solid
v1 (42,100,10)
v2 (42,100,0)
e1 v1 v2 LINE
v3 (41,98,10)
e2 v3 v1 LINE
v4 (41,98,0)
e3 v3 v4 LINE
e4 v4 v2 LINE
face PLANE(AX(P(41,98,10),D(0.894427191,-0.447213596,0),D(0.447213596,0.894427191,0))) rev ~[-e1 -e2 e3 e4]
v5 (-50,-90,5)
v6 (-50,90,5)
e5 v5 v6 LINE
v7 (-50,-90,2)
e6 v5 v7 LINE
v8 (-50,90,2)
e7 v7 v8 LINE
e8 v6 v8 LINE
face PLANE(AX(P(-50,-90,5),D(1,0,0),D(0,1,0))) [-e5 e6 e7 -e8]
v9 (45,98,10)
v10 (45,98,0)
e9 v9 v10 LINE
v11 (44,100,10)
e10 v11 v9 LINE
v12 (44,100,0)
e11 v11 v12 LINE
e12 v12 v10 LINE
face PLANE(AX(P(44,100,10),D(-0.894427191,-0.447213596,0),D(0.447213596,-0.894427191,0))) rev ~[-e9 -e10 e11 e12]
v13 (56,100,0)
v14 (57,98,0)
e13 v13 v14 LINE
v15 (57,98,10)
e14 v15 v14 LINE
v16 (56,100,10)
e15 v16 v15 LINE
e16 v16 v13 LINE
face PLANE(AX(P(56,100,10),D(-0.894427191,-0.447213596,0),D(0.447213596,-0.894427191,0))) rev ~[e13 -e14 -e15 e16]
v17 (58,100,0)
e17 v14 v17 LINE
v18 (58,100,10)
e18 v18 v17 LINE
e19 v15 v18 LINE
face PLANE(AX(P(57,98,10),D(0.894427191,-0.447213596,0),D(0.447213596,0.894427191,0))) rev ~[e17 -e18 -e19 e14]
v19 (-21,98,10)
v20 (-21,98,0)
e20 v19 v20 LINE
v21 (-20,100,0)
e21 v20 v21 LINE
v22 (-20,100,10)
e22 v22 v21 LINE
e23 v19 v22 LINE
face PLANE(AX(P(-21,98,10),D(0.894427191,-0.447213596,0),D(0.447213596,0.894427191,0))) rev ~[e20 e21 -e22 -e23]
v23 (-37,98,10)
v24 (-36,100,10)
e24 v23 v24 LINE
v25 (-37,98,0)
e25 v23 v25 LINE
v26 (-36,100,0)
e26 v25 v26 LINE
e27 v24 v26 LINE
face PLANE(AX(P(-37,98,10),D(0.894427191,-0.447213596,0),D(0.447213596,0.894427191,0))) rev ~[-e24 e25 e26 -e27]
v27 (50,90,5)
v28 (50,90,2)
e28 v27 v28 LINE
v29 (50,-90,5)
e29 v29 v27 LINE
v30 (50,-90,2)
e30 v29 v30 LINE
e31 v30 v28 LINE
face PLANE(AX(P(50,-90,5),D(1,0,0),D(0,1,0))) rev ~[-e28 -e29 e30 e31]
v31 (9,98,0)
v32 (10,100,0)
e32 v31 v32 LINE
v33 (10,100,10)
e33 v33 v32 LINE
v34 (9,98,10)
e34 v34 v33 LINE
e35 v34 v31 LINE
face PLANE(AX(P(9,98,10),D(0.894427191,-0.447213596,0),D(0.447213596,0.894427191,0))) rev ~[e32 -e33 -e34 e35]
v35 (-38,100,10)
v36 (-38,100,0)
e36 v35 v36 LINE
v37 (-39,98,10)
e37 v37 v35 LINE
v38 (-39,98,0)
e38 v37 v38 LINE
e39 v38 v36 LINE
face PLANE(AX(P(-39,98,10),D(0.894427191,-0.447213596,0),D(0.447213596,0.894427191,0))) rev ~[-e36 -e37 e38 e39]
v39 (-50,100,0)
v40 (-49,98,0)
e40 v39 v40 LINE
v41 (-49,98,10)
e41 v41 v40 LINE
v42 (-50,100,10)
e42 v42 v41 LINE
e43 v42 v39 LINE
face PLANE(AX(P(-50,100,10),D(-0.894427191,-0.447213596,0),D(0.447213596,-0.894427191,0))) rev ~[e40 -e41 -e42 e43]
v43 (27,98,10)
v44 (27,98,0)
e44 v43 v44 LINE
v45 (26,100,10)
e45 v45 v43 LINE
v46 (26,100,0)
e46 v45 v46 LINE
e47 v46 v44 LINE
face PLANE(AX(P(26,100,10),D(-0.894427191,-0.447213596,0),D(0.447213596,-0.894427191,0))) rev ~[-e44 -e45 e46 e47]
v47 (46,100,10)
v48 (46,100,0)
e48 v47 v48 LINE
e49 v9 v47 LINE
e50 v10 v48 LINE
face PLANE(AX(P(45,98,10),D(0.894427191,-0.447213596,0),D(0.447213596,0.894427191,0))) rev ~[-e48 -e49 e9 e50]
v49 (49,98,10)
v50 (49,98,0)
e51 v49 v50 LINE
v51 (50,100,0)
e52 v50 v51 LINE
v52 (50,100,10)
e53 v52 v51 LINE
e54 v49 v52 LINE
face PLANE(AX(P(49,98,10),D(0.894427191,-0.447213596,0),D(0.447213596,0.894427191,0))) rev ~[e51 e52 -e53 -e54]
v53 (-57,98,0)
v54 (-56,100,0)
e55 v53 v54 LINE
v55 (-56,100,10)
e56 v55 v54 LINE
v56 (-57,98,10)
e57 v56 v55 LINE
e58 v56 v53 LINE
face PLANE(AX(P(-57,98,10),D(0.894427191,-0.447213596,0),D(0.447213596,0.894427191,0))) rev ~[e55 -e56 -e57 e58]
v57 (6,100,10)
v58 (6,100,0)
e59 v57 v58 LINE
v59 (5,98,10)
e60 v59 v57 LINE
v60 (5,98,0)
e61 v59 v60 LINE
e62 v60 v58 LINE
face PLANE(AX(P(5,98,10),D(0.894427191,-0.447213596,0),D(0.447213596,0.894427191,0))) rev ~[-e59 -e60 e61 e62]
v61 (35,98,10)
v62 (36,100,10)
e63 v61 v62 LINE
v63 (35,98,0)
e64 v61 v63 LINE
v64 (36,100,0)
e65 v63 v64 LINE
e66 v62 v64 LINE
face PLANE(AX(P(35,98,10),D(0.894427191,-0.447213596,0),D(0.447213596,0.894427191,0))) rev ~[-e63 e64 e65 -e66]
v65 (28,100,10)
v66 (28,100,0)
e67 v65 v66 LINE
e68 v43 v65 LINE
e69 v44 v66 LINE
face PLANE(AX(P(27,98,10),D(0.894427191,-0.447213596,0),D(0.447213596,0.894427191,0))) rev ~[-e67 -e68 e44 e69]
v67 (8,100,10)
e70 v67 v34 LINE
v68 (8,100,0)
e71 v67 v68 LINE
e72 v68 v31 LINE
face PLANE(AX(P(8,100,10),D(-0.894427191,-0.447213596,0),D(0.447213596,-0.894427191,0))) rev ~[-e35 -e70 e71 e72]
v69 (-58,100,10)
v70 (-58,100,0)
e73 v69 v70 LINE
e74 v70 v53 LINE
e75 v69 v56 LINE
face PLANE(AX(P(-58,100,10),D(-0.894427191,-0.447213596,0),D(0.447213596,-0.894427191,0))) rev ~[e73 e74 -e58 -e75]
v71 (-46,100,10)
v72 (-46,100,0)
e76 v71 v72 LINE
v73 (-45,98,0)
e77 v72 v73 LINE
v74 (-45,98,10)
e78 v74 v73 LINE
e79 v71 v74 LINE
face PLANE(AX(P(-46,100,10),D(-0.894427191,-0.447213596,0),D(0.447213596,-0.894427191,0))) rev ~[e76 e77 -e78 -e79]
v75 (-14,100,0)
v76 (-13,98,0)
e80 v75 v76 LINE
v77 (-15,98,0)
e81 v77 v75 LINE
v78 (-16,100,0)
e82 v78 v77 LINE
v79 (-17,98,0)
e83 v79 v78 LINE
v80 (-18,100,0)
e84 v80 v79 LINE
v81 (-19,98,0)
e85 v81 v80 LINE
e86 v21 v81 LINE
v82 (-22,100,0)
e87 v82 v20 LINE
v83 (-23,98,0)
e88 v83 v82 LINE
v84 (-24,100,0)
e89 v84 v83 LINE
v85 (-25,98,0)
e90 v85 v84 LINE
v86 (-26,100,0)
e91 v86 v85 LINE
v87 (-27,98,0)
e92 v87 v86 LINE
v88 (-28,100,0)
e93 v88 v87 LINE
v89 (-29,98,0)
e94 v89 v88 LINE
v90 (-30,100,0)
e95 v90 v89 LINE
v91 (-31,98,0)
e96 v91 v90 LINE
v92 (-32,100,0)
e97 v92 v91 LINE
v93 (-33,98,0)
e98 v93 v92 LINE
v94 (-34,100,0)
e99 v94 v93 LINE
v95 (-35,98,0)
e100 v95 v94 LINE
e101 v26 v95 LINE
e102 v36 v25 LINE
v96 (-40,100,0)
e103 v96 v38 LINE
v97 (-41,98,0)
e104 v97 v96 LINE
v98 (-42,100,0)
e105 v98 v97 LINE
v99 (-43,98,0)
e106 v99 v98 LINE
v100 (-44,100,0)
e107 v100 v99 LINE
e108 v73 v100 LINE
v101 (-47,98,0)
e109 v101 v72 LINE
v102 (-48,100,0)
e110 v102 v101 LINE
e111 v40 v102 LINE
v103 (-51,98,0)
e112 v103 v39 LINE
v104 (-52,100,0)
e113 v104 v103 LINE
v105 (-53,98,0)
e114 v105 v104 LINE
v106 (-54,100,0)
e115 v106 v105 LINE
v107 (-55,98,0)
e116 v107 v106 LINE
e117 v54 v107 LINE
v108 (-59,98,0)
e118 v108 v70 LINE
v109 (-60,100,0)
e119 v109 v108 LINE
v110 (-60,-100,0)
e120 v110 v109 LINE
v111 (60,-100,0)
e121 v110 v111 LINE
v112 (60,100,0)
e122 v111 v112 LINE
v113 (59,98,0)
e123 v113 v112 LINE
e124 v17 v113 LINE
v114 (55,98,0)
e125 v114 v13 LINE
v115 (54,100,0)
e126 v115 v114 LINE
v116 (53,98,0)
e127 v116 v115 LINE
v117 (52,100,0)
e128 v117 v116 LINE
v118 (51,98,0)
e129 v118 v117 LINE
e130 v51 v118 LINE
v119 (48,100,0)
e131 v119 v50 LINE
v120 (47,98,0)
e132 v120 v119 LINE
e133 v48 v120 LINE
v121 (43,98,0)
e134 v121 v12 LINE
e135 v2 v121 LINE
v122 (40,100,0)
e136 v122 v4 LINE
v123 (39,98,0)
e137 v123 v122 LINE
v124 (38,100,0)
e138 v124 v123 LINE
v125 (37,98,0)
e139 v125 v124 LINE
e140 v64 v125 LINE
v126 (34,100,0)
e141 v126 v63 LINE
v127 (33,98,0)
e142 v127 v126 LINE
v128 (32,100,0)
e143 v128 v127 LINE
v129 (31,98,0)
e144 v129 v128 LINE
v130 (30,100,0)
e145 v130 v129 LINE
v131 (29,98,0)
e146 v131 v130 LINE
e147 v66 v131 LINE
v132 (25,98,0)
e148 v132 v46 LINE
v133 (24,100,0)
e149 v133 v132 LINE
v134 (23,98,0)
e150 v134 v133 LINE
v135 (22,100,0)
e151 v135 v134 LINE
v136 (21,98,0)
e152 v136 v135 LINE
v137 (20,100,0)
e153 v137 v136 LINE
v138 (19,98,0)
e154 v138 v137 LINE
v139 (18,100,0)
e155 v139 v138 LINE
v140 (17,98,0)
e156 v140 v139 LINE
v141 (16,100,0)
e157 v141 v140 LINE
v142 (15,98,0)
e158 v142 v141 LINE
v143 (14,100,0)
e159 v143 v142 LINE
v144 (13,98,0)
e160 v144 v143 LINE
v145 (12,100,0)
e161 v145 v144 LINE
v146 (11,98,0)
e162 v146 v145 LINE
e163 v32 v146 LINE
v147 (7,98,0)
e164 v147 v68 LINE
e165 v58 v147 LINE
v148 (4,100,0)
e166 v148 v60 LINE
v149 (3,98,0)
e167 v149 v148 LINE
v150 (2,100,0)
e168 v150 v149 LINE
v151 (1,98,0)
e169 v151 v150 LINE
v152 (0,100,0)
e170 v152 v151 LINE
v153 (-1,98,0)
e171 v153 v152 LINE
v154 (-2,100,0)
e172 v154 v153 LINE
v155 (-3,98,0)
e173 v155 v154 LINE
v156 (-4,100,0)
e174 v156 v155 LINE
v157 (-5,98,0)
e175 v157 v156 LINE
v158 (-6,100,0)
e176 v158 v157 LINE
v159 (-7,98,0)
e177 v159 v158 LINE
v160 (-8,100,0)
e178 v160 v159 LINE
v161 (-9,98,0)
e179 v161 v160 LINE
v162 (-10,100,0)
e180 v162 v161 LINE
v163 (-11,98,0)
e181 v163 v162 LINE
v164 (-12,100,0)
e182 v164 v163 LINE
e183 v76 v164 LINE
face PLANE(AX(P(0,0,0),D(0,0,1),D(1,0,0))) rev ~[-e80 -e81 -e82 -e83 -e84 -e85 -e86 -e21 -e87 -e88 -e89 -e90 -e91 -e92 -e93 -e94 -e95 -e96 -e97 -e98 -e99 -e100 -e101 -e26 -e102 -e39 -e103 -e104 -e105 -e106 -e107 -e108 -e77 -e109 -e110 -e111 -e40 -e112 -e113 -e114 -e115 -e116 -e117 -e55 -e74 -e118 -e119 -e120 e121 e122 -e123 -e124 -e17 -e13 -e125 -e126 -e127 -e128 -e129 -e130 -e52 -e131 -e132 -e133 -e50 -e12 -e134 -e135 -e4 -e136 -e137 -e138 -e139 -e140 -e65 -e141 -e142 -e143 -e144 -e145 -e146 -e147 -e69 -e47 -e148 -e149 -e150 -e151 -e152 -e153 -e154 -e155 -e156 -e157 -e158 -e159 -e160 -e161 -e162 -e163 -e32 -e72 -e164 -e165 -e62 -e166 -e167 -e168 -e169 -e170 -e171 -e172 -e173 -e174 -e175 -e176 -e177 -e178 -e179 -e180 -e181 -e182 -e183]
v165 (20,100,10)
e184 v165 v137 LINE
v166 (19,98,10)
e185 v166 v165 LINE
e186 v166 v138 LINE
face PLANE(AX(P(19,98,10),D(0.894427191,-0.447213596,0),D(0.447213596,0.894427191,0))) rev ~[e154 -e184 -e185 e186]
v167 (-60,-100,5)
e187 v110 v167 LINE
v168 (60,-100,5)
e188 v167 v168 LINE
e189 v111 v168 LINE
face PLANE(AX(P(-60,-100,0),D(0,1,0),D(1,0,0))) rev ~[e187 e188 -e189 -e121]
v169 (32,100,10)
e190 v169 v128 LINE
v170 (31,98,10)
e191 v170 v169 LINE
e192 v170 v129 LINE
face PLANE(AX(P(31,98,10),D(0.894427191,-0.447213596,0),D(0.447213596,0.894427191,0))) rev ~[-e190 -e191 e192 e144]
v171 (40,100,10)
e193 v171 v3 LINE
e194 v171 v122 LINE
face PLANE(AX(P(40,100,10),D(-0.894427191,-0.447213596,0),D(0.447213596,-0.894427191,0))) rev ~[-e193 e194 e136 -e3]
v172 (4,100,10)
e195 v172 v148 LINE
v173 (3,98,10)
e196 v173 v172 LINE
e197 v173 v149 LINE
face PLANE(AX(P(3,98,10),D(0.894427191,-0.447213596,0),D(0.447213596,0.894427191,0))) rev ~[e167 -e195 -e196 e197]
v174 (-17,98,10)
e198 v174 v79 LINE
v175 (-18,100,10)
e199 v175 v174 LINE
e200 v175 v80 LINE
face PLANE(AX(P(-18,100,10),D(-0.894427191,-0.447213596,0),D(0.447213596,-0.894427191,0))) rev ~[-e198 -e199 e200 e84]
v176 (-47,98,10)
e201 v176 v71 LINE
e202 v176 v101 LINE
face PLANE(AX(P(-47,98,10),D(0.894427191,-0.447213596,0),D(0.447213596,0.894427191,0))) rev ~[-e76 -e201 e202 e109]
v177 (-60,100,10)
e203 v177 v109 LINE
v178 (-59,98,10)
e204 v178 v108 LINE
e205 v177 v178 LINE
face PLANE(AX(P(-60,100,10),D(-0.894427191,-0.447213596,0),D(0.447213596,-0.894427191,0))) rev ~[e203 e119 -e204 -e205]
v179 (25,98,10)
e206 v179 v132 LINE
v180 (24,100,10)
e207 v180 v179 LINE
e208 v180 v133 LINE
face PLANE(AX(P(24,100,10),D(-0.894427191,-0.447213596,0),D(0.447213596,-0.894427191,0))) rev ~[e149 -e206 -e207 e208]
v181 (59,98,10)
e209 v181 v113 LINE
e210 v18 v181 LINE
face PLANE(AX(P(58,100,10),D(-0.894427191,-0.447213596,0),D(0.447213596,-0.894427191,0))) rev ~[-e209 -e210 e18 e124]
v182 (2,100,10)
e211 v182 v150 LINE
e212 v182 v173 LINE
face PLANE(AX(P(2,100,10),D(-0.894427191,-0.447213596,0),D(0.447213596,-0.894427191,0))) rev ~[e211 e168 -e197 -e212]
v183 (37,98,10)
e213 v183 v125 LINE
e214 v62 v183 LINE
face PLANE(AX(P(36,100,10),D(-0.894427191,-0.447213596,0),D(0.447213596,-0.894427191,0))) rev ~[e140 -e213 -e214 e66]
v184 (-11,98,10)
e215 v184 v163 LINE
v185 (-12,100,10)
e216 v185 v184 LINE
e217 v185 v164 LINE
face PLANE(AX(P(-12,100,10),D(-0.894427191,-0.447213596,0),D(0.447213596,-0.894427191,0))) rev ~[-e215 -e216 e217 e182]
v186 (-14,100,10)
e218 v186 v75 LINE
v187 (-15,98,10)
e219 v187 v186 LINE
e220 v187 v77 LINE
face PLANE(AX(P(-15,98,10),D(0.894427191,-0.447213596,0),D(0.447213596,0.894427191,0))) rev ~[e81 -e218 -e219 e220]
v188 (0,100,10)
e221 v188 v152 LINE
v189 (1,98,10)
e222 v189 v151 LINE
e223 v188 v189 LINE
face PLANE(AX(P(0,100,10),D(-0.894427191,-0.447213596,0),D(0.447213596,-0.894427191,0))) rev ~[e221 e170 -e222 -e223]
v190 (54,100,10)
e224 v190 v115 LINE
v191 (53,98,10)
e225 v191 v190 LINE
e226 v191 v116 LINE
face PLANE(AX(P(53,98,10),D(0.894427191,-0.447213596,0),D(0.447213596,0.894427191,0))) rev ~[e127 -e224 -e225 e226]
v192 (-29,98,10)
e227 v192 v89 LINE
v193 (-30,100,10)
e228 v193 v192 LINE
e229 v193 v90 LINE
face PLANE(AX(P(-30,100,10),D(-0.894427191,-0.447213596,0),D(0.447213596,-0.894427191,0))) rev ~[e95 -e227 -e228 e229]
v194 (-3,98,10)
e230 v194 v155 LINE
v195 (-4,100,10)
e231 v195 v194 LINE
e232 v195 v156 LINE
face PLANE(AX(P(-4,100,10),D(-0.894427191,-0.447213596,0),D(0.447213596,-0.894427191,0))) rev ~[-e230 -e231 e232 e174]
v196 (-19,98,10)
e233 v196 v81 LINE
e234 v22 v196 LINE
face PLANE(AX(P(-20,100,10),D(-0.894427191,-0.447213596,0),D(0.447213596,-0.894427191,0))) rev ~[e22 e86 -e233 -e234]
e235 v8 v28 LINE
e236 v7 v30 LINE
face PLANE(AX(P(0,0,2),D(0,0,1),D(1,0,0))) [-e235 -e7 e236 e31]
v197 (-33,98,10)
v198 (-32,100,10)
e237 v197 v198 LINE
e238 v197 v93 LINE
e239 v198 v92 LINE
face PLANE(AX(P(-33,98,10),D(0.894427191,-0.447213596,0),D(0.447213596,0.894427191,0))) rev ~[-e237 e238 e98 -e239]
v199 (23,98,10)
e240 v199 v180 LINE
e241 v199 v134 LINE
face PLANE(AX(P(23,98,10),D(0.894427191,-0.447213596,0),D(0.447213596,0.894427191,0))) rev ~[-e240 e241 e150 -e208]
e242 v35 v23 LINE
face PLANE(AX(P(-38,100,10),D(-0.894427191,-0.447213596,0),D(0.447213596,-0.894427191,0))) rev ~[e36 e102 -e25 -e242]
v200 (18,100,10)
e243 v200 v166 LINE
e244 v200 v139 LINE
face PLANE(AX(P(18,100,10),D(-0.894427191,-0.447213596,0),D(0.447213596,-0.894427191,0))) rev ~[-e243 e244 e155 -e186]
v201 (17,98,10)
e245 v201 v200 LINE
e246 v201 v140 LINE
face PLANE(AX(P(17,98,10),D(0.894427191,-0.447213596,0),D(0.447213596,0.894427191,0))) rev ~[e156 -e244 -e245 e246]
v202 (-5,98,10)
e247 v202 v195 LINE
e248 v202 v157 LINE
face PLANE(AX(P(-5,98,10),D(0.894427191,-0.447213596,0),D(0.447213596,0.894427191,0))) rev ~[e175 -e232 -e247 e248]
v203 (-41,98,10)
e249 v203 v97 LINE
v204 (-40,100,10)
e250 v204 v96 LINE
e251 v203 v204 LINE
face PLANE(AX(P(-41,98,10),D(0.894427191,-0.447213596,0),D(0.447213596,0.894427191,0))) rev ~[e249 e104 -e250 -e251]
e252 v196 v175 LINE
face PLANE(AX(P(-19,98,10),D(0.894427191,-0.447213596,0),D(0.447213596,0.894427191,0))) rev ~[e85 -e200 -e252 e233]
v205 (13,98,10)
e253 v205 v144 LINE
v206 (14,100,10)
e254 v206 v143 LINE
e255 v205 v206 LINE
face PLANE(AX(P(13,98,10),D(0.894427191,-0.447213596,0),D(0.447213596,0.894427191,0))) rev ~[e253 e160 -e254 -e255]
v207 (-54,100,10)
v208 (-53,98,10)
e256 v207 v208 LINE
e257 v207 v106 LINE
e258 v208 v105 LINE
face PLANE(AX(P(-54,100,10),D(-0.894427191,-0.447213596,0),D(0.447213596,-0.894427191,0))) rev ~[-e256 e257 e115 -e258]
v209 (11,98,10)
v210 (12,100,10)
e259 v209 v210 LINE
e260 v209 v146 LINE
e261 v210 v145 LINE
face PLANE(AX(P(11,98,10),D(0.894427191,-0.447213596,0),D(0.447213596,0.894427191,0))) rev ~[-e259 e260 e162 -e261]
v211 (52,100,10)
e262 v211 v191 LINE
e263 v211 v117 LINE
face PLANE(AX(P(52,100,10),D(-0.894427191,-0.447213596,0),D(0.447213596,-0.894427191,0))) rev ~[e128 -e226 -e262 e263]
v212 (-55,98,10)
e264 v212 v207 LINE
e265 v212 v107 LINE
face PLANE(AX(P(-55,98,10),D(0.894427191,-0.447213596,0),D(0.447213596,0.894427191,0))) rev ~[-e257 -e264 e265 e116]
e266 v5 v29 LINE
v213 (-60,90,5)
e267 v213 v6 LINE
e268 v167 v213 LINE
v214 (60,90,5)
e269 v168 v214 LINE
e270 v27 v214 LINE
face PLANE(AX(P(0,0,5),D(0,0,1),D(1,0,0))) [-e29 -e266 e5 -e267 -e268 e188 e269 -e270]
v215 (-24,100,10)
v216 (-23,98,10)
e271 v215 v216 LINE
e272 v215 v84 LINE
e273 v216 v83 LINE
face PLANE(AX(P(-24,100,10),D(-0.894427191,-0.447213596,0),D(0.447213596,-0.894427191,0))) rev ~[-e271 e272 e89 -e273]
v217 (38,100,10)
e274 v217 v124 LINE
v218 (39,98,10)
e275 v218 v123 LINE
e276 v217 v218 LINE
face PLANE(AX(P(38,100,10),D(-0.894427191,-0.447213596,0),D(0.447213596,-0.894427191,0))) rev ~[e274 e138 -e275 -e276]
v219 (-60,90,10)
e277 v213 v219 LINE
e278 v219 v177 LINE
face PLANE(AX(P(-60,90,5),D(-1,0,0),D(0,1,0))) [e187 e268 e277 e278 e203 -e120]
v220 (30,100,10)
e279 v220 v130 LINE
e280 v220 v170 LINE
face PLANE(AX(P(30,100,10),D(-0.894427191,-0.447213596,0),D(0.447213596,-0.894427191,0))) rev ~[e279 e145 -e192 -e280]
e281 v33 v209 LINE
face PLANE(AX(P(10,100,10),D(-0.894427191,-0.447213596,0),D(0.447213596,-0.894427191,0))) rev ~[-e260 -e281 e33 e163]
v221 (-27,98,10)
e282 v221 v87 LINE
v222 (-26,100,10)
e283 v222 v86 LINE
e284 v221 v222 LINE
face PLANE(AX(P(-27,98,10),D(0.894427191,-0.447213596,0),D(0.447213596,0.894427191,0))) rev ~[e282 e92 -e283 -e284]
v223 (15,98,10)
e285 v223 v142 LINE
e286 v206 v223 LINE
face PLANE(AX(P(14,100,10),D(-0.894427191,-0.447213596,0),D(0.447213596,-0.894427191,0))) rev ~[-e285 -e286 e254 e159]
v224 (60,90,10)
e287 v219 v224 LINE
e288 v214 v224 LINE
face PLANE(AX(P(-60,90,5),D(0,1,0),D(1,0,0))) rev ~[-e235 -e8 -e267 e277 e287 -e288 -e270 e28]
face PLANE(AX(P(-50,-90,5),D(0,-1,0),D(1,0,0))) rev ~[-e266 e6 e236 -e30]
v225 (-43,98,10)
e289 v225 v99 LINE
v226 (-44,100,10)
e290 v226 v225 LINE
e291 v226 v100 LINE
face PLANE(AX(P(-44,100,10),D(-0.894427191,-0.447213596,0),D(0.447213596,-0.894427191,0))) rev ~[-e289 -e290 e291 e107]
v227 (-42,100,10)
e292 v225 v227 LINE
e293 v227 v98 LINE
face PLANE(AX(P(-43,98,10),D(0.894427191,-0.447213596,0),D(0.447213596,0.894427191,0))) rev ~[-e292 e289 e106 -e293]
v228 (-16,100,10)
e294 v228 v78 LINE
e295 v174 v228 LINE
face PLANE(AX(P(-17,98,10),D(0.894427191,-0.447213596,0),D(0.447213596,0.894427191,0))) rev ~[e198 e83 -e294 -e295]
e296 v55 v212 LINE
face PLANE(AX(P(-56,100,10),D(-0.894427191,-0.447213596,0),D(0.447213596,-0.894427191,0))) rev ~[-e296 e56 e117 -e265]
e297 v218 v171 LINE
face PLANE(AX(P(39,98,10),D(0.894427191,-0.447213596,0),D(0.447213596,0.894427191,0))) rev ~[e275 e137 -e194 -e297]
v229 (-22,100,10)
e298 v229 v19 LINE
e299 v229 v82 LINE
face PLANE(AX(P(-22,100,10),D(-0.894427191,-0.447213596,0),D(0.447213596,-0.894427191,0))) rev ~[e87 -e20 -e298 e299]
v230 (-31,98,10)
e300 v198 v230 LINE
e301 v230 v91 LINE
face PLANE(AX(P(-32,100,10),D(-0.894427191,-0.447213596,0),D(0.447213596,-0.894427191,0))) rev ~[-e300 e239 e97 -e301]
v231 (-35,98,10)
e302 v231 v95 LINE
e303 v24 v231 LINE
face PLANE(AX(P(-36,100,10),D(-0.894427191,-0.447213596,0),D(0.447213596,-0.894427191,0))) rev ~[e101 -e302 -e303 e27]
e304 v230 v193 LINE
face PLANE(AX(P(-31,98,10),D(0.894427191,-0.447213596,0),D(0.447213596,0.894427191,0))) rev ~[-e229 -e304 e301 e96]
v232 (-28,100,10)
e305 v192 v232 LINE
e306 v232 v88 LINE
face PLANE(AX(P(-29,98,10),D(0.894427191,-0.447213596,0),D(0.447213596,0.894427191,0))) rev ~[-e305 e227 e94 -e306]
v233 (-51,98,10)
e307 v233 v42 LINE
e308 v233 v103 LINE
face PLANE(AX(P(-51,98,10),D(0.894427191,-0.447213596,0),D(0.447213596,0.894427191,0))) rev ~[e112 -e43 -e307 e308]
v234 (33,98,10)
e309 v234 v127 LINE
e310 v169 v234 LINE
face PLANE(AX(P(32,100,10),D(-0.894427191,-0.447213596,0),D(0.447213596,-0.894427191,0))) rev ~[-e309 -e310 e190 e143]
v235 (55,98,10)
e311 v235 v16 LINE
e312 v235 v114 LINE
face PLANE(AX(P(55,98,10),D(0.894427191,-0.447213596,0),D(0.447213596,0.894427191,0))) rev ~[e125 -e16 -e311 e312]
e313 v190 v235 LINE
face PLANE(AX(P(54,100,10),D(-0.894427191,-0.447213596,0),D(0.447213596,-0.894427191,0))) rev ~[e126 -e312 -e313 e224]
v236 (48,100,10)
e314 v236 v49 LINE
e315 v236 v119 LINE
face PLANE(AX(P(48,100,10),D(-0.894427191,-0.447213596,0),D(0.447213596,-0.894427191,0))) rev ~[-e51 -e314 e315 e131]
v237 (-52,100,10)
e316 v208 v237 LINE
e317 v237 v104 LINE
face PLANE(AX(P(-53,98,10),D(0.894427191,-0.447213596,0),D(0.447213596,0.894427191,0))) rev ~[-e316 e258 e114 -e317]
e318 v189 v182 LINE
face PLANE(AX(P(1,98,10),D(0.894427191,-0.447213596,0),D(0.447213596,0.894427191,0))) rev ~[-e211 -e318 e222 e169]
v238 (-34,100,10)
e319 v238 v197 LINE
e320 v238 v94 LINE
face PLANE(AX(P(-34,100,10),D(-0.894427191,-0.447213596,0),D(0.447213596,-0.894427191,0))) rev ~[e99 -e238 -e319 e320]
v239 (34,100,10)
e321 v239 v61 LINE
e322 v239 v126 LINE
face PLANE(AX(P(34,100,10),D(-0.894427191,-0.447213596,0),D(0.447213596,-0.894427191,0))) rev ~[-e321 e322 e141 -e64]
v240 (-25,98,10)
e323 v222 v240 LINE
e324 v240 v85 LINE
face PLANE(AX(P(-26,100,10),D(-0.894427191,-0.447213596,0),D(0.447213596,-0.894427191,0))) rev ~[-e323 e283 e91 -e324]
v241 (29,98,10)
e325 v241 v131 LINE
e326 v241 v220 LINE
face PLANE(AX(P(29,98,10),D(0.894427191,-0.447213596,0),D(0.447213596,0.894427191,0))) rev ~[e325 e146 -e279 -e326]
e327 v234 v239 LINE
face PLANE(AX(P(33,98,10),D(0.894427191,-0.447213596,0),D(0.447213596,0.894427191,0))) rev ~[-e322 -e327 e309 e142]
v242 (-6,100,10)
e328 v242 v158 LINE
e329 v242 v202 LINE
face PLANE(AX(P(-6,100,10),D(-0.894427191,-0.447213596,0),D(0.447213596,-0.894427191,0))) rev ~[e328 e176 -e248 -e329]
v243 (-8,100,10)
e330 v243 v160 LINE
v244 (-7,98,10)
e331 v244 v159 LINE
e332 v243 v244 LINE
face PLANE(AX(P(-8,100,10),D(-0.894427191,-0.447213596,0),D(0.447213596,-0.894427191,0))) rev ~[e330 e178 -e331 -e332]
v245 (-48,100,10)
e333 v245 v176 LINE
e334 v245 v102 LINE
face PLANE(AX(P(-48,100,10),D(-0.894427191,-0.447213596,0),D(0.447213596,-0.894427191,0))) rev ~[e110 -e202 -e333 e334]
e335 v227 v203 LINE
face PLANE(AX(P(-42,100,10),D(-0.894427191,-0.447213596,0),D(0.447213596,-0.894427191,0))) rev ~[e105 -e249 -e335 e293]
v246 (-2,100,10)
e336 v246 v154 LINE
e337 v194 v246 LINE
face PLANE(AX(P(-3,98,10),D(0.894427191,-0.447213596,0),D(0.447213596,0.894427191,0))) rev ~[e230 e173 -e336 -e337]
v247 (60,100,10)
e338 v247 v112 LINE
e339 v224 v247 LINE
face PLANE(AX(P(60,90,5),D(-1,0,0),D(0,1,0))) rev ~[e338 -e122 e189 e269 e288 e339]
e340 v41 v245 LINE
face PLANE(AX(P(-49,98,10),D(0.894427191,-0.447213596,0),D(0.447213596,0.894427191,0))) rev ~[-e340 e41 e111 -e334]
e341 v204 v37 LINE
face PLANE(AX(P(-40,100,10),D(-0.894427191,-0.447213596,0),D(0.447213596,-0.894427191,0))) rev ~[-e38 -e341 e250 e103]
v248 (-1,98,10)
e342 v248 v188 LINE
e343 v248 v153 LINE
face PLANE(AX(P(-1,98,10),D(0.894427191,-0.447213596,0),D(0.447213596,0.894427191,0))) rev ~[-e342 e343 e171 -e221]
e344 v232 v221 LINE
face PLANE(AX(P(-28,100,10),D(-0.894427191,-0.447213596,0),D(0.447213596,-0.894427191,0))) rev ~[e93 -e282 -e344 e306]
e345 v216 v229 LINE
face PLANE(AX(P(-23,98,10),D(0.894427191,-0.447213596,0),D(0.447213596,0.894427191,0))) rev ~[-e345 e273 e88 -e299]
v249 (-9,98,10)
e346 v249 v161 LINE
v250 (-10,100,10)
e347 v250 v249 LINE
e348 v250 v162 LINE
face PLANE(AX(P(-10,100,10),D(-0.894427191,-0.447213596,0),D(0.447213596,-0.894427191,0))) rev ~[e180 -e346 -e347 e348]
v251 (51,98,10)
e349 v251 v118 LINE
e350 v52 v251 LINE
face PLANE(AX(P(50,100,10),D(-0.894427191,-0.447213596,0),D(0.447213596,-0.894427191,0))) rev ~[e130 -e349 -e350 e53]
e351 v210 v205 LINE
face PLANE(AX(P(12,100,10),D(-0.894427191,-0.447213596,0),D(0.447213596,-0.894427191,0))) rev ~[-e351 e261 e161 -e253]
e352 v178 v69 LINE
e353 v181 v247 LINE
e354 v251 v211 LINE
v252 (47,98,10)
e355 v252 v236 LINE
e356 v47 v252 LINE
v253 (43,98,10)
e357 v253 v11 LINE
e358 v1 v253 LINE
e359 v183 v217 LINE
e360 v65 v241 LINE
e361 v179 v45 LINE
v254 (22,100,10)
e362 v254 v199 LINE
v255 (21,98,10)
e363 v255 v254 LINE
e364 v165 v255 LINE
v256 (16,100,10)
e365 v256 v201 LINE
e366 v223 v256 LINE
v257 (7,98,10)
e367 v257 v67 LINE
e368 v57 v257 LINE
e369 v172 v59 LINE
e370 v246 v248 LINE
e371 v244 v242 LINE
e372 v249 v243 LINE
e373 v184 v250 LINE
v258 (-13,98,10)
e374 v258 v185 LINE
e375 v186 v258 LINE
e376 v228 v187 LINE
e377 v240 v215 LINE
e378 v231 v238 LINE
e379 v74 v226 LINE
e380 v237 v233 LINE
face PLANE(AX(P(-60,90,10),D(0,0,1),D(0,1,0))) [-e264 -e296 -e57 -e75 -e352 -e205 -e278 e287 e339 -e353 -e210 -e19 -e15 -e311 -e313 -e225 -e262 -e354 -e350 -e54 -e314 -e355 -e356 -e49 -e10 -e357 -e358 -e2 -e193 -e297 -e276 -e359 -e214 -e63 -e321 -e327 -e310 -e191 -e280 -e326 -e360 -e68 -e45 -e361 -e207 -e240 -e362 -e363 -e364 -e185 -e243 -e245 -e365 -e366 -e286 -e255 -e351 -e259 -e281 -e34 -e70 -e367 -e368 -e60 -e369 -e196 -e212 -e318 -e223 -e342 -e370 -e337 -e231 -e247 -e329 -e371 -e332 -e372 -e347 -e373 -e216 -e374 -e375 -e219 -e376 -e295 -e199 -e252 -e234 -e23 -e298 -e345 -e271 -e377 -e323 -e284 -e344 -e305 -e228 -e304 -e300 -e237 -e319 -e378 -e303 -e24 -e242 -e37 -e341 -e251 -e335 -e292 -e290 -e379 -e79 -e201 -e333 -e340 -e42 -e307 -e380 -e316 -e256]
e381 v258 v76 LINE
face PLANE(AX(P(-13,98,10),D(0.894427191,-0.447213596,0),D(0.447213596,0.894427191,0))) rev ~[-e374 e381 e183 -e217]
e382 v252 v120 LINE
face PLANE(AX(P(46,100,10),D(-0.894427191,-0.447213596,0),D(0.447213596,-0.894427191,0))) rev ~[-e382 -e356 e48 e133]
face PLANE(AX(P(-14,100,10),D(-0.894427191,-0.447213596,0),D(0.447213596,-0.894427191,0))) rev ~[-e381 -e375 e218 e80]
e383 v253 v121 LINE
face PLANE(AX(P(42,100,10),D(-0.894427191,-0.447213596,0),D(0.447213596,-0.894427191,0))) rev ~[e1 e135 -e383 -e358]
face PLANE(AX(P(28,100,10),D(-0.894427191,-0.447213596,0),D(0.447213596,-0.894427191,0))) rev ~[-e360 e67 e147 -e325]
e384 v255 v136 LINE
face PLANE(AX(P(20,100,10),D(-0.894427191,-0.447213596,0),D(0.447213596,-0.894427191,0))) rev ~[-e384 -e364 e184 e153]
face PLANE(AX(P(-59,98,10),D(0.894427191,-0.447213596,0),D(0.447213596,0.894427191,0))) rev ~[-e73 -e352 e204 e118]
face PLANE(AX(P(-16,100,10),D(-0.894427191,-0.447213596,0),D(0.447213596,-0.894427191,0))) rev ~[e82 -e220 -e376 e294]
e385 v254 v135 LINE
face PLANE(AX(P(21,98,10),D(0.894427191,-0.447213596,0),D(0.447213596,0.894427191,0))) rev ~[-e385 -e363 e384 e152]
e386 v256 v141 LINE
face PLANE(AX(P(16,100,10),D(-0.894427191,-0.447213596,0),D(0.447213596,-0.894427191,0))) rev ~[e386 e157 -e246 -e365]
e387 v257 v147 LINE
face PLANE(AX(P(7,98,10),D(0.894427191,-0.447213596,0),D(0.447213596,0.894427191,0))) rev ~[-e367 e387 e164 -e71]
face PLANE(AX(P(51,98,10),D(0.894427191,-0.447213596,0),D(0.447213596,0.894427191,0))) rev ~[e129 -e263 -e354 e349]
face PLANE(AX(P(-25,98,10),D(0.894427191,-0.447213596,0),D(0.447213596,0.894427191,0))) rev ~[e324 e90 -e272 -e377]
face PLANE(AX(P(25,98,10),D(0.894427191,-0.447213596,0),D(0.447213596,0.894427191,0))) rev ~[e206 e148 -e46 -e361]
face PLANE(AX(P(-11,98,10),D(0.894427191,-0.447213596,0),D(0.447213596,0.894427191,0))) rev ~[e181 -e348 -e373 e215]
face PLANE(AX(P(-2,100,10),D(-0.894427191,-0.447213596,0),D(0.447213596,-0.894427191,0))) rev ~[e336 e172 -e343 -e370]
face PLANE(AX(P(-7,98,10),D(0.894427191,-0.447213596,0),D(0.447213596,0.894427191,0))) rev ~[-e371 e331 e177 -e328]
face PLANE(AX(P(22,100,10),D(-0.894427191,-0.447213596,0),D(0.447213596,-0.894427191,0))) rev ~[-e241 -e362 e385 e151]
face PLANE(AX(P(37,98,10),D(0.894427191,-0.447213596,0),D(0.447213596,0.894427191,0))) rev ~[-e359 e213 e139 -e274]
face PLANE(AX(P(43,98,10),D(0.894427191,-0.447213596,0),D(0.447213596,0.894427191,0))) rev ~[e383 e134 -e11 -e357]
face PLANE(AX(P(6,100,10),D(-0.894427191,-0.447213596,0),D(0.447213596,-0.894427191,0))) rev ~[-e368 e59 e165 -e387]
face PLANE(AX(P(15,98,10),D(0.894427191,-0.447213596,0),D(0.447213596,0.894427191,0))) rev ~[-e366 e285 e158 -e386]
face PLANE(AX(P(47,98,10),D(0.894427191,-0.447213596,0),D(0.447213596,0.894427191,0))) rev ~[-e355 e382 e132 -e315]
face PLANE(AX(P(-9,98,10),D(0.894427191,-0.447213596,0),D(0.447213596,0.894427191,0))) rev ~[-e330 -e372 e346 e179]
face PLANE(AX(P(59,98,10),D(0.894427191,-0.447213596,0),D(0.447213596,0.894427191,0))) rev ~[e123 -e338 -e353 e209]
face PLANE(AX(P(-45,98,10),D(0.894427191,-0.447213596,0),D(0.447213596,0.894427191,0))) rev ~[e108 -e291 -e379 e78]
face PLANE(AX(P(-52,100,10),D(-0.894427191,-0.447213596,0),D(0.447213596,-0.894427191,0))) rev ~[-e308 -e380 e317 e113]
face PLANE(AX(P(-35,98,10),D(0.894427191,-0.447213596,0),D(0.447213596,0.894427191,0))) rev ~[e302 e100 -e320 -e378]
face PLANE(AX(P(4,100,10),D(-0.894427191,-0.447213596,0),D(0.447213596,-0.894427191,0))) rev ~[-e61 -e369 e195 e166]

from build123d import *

# Parameters (mm, degrees)
CROQUIS2_W              = 120
CROQUIS2_H              = 200
SALIENTE_EXTRUIR1_DEPTH = 5
CROQUIS3_W              = 100
CROQUIS3_H              = 180
CORTAR_EXTRUIR1_DEPTH   = 3
CROQUIS4_W              = 120
CROQUIS4_H              = 10
SALIENTE_EXTRUIR3_DEPTH = 5
CORTAR_EXTRUIR2_DEPTH   = 10
CROQUIS6_W              = 5
CROQUIS6_H              = 10
SALIENTE_EXTRUIR4_DEPTH = 120
CORTAR_EXTRUIR3_DEPTH   = 10


with BuildPart() as part:
    # Croquis2 → Saliente-Extruir1 (new body)
    with BuildSketch(Plane.XY):
        Rectangle(CROQUIS2_W, CROQUIS2_H)
    extrude(amount=SALIENTE_EXTRUIR1_DEPTH)

    # Croquis3 → Cortar-Extruir1 (cut)
    with BuildSketch(Plane.XY.offset(5)):
        Rectangle(CROQUIS3_W, CROQUIS3_H)
    extrude(amount=-CORTAR_EXTRUIR1_DEPTH, mode=Mode.SUBTRACT)

    # Croquis4 → Saliente-Extruir3 (add)
    with BuildSketch(Plane.XY.offset(5)):
        with Locations((0, 95)):
            Rectangle(CROQUIS4_W, CROQUIS4_H)
    extrude(amount=SALIENTE_EXTRUIR3_DEPTH)

    # Croquis5 → Cortar-Extruir2 (cut)
    with BuildSketch(Plane(origin=(0, 100, 0), x_dir=(1, 0, 0), z_dir=(0, 1, 0))):
        Polygon((59, -8), (58, -10), (60, -10), align=None)
        Polygon((57, -8), (56, -10), (58, -10), align=None)
        Polygon((55, -8), (54, -10), (56, -10), align=None)
        Polygon((53, -8), (52, -10), (54, -10), align=None)
        Polygon((51, -8), (50, -10), (52, -10), align=None)
        Polygon((49, -8), (48, -10), (50, -10), align=None)
        Polygon((47, -8), (46, -10), (48, -10), align=None)
        Polygon((45, -8), (44, -10), (46, -10), align=None)
        Polygon((43, -8), (42, -10), (44, -10), align=None)
        Polygon((41, -8), (40, -10), (42, -10), align=None)
        Polygon((39, -8), (38, -10), (40, -10), align=None)
        Polygon((37, -8), (36, -10), (38, -10), align=None)
        Polygon((35, -8), (34, -10), (36, -10), align=None)
        Polygon((33, -8), (32, -10), (34, -10), align=None)
        Polygon((31, -8), (30, -10), (32, -10), align=None)
        Polygon((29, -8), (28, -10), (30, -10), align=None)
        Polygon((27, -8), (26, -10), (28, -10), align=None)
        Polygon((25, -8), (24, -10), (26, -10), align=None)
        Polygon((23, -8), (22, -10), (24, -10), align=None)
        Polygon((21, -8), (20, -10), (22, -10), align=None)
        Polygon((19, -8), (18, -10), (20, -10), align=None)
        Polygon((17, -8), (16, -10), (18, -10), align=None)
        Polygon((15, -8), (14, -10), (16, -10), align=None)
        Polygon((13, -8), (12, -10), (14, -10), align=None)
        Polygon((11, -8), (10, -10), (12, -10), align=None)
        Polygon((9, -8), (8, -10), (10, -10), align=None)
        Polygon((7, -8), (6, -10), (8, -10), align=None)
        Polygon((5, -8), (4, -10), (6, -10), align=None)
        Polygon((3, -8), (2, -10), (4, -10), align=None)
        Polygon((1, -8), (0, -10), (2, -10), align=None)
        Polygon((-1, -8), (-2, -10), (0, -10), align=None)
        Polygon((-3, -8), (-4, -10), (-2, -10), align=None)
        Polygon((-5, -8), (-6, -10), (-4, -10), align=None)
        Polygon((-7, -8), (-8, -10), (-6, -10), align=None)
        Polygon((-9, -8), (-10, -10), (-8, -10), align=None)
        Polygon((-11, -8), (-12, -10), (-10, -10), align=None)
        Polygon((-13, -8), (-14, -10), (-12, -10), align=None)
        Polygon((-15, -8), (-16, -10), (-14, -10), align=None)
        Polygon((-17, -8), (-18, -10), (-16, -10), align=None)
        Polygon((-19, -8), (-20, -10), (-18, -10), align=None)
        Polygon((-21, -8), (-22, -10), (-20, -10), align=None)
        Polygon((-23, -8), (-24, -10), (-22, -10), align=None)
        Polygon((-25, -8), (-26, -10), (-24, -10), align=None)
        Polygon((-27, -8), (-28, -10), (-26, -10), align=None)
        Polygon((-29, -8), (-30, -10), (-28, -10), align=None)
        Polygon((-31, -8), (-32, -10), (-30, -10), align=None)
        Polygon((-33, -8), (-34, -10), (-32, -10), align=None)
        Polygon((-35, -8), (-36, -10), (-34, -10), align=None)
        Polygon((-37, -8), (-38, -10), (-36, -10), align=None)
        Polygon((-39, -8), (-40, -10), (-38, -10), align=None)
        Polygon((-41, -8), (-42, -10), (-40, -10), align=None)
        Polygon((-43, -8), (-44, -10), (-42, -10), align=None)
        Polygon((-45, -8), (-46, -10), (-44, -10), align=None)
        Polygon((-47, -8), (-48, -10), (-46, -10), align=None)
        Polygon((-49, -8), (-50, -10), (-48, -10), align=None)
        Polygon((-51, -8), (-52, -10), (-50, -10), align=None)
        Polygon((-53, -8), (-54, -10), (-52, -10), align=None)
        Polygon((-55, -8), (-56, -10), (-54, -10), align=None)
        Polygon((-57, -8), (-58, -10), (-56, -10), align=None)
        Polygon((-59, -8), (-60, -10), (-58, -10), align=None)
    extrude(amount=-CORTAR_EXTRUIR2_DEPTH, mode=Mode.SUBTRACT)

    # Croquis6 → Saliente-Extruir4 (add)
    with BuildSketch(Plane.ZY.offset(60)):
        with Locations((7.5, 95)):
            Rectangle(CROQUIS6_W, CROQUIS6_H)
    extrude(amount=-SALIENTE_EXTRUIR4_DEPTH)

    # Croquis7 → Cortar-Extruir3 (cut)
    with BuildSketch(Plane.XY.offset(10)):
        Polygon((-58, 100), (-60, 100), (-59, 98), align=None)
        Polygon((60, 100), (58, 100), (59, 98), align=None)
        Polygon((58, 100), (56, 100), (57, 98), align=None)
        Polygon((56, 100), (54, 100), (55, 98), align=None)
        Polygon((54, 100), (52, 100), (53, 98), align=None)
        Polygon((52, 100), (50, 100), (51, 98), align=None)
        Polygon((50, 100), (48, 100), (49, 98), align=None)
        Polygon((48, 100), (46, 100), (47, 98), align=None)
        Polygon((46, 100), (44, 100), (45, 98), align=None)
        Polygon((44, 100), (42, 100), (43, 98), align=None)
        Polygon((42, 100), (40, 100), (41, 98), align=None)
        Polygon((40, 100), (38, 100), (39, 98), align=None)
        Polygon((38, 100), (36, 100), (37, 98), align=None)
        Polygon((36, 100), (34, 100), (35, 98), align=None)
        Polygon((34, 100), (32, 100), (33, 98), align=None)
        Polygon((32, 100), (30, 100), (31, 98), align=None)
        Polygon((30, 100), (28, 100), (29, 98), align=None)
        Polygon((28, 100), (26, 100), (27, 98), align=None)
        Polygon((26, 100), (24, 100), (25, 98), align=None)
        Polygon((24, 100), (22, 100), (23, 98), align=None)
        Polygon((22, 100), (20, 100), (21, 98), align=None)
        Polygon((20, 100), (18, 100), (19, 98), align=None)
        Polygon((18, 100), (16, 100), (17, 98), align=None)
        Polygon((16, 100), (14, 100), (15, 98), align=None)
        Polygon((14, 100), (12, 100), (13, 98), align=None)
        Polygon((12, 100), (10, 100), (11, 98), align=None)
        Polygon((10, 100), (8, 100), (9, 98), align=None)
        Polygon((8, 100), (6, 100), (7, 98), align=None)
        Polygon((6, 100), (4, 100), (5, 98), align=None)
        Polygon((4, 100), (2, 100), (3, 98), align=None)
        Polygon((2, 100), (0, 100), (1, 98), align=None)
        Polygon((0, 100), (-2, 100), (-1, 98), align=None)
        Polygon((-2, 100), (-4, 100), (-3, 98), align=None)
        Polygon((-4, 100), (-6, 100), (-5, 98), align=None)
        Polygon((-6, 100), (-8, 100), (-7, 98), align=None)
        Polygon((-8, 100), (-10, 100), (-9, 98), align=None)
        Polygon((-10, 100), (-12, 100), (-11, 98), align=None)
        Polygon((-12, 100), (-14, 100), (-13, 98), align=None)
        Polygon((-14, 100), (-16, 100), (-15, 98), align=None)
        Polygon((-16, 100), (-18, 100), (-17, 98), align=None)
        Polygon((-18, 100), (-20, 100), (-19, 98), align=None)
        Polygon((-20, 100), (-22, 100), (-21, 98), align=None)
        Polygon((-22, 100), (-24, 100), (-23, 98), align=None)
        Polygon((-24, 100), (-26, 100), (-25, 98), align=None)
        Polygon((-26, 100), (-28, 100), (-27, 98), align=None)
        Polygon((-28, 100), (-30, 100), (-29, 98), align=None)
        Polygon((-30, 100), (-32, 100), (-31, 98), align=None)
        Polygon((-32, 100), (-34, 100), (-33, 98), align=None)
        Polygon((-34, 100), (-36, 100), (-35, 98), align=None)
        Polygon((-36, 100), (-38, 100), (-37, 98), align=None)
        Polygon((-38, 100), (-40, 100), (-39, 98), align=None)
        Polygon((-40, 100), (-42, 100), (-41, 98), align=None)
        Polygon((-42, 100), (-44, 100), (-43, 98), align=None)
        Polygon((-44, 100), (-46, 100), (-45, 98), align=None)
        Polygon((-46, 100), (-48, 100), (-47, 98), align=None)
        Polygon((-48, 100), (-50, 100), (-49, 98), align=None)
        Polygon((-50, 100), (-52, 100), (-51, 98), align=None)
        Polygon((-52, 100), (-54, 100), (-53, 98), align=None)
        Polygon((-54, 100), (-56, 100), (-55, 98), align=None)
        Polygon((-56, 100), (-58, 100), (-57, 98), align=None)
    extrude(amount=-CORTAR_EXTRUIR3_DEPTH, mode=Mode.SUBTRACT)


solid = part.part
